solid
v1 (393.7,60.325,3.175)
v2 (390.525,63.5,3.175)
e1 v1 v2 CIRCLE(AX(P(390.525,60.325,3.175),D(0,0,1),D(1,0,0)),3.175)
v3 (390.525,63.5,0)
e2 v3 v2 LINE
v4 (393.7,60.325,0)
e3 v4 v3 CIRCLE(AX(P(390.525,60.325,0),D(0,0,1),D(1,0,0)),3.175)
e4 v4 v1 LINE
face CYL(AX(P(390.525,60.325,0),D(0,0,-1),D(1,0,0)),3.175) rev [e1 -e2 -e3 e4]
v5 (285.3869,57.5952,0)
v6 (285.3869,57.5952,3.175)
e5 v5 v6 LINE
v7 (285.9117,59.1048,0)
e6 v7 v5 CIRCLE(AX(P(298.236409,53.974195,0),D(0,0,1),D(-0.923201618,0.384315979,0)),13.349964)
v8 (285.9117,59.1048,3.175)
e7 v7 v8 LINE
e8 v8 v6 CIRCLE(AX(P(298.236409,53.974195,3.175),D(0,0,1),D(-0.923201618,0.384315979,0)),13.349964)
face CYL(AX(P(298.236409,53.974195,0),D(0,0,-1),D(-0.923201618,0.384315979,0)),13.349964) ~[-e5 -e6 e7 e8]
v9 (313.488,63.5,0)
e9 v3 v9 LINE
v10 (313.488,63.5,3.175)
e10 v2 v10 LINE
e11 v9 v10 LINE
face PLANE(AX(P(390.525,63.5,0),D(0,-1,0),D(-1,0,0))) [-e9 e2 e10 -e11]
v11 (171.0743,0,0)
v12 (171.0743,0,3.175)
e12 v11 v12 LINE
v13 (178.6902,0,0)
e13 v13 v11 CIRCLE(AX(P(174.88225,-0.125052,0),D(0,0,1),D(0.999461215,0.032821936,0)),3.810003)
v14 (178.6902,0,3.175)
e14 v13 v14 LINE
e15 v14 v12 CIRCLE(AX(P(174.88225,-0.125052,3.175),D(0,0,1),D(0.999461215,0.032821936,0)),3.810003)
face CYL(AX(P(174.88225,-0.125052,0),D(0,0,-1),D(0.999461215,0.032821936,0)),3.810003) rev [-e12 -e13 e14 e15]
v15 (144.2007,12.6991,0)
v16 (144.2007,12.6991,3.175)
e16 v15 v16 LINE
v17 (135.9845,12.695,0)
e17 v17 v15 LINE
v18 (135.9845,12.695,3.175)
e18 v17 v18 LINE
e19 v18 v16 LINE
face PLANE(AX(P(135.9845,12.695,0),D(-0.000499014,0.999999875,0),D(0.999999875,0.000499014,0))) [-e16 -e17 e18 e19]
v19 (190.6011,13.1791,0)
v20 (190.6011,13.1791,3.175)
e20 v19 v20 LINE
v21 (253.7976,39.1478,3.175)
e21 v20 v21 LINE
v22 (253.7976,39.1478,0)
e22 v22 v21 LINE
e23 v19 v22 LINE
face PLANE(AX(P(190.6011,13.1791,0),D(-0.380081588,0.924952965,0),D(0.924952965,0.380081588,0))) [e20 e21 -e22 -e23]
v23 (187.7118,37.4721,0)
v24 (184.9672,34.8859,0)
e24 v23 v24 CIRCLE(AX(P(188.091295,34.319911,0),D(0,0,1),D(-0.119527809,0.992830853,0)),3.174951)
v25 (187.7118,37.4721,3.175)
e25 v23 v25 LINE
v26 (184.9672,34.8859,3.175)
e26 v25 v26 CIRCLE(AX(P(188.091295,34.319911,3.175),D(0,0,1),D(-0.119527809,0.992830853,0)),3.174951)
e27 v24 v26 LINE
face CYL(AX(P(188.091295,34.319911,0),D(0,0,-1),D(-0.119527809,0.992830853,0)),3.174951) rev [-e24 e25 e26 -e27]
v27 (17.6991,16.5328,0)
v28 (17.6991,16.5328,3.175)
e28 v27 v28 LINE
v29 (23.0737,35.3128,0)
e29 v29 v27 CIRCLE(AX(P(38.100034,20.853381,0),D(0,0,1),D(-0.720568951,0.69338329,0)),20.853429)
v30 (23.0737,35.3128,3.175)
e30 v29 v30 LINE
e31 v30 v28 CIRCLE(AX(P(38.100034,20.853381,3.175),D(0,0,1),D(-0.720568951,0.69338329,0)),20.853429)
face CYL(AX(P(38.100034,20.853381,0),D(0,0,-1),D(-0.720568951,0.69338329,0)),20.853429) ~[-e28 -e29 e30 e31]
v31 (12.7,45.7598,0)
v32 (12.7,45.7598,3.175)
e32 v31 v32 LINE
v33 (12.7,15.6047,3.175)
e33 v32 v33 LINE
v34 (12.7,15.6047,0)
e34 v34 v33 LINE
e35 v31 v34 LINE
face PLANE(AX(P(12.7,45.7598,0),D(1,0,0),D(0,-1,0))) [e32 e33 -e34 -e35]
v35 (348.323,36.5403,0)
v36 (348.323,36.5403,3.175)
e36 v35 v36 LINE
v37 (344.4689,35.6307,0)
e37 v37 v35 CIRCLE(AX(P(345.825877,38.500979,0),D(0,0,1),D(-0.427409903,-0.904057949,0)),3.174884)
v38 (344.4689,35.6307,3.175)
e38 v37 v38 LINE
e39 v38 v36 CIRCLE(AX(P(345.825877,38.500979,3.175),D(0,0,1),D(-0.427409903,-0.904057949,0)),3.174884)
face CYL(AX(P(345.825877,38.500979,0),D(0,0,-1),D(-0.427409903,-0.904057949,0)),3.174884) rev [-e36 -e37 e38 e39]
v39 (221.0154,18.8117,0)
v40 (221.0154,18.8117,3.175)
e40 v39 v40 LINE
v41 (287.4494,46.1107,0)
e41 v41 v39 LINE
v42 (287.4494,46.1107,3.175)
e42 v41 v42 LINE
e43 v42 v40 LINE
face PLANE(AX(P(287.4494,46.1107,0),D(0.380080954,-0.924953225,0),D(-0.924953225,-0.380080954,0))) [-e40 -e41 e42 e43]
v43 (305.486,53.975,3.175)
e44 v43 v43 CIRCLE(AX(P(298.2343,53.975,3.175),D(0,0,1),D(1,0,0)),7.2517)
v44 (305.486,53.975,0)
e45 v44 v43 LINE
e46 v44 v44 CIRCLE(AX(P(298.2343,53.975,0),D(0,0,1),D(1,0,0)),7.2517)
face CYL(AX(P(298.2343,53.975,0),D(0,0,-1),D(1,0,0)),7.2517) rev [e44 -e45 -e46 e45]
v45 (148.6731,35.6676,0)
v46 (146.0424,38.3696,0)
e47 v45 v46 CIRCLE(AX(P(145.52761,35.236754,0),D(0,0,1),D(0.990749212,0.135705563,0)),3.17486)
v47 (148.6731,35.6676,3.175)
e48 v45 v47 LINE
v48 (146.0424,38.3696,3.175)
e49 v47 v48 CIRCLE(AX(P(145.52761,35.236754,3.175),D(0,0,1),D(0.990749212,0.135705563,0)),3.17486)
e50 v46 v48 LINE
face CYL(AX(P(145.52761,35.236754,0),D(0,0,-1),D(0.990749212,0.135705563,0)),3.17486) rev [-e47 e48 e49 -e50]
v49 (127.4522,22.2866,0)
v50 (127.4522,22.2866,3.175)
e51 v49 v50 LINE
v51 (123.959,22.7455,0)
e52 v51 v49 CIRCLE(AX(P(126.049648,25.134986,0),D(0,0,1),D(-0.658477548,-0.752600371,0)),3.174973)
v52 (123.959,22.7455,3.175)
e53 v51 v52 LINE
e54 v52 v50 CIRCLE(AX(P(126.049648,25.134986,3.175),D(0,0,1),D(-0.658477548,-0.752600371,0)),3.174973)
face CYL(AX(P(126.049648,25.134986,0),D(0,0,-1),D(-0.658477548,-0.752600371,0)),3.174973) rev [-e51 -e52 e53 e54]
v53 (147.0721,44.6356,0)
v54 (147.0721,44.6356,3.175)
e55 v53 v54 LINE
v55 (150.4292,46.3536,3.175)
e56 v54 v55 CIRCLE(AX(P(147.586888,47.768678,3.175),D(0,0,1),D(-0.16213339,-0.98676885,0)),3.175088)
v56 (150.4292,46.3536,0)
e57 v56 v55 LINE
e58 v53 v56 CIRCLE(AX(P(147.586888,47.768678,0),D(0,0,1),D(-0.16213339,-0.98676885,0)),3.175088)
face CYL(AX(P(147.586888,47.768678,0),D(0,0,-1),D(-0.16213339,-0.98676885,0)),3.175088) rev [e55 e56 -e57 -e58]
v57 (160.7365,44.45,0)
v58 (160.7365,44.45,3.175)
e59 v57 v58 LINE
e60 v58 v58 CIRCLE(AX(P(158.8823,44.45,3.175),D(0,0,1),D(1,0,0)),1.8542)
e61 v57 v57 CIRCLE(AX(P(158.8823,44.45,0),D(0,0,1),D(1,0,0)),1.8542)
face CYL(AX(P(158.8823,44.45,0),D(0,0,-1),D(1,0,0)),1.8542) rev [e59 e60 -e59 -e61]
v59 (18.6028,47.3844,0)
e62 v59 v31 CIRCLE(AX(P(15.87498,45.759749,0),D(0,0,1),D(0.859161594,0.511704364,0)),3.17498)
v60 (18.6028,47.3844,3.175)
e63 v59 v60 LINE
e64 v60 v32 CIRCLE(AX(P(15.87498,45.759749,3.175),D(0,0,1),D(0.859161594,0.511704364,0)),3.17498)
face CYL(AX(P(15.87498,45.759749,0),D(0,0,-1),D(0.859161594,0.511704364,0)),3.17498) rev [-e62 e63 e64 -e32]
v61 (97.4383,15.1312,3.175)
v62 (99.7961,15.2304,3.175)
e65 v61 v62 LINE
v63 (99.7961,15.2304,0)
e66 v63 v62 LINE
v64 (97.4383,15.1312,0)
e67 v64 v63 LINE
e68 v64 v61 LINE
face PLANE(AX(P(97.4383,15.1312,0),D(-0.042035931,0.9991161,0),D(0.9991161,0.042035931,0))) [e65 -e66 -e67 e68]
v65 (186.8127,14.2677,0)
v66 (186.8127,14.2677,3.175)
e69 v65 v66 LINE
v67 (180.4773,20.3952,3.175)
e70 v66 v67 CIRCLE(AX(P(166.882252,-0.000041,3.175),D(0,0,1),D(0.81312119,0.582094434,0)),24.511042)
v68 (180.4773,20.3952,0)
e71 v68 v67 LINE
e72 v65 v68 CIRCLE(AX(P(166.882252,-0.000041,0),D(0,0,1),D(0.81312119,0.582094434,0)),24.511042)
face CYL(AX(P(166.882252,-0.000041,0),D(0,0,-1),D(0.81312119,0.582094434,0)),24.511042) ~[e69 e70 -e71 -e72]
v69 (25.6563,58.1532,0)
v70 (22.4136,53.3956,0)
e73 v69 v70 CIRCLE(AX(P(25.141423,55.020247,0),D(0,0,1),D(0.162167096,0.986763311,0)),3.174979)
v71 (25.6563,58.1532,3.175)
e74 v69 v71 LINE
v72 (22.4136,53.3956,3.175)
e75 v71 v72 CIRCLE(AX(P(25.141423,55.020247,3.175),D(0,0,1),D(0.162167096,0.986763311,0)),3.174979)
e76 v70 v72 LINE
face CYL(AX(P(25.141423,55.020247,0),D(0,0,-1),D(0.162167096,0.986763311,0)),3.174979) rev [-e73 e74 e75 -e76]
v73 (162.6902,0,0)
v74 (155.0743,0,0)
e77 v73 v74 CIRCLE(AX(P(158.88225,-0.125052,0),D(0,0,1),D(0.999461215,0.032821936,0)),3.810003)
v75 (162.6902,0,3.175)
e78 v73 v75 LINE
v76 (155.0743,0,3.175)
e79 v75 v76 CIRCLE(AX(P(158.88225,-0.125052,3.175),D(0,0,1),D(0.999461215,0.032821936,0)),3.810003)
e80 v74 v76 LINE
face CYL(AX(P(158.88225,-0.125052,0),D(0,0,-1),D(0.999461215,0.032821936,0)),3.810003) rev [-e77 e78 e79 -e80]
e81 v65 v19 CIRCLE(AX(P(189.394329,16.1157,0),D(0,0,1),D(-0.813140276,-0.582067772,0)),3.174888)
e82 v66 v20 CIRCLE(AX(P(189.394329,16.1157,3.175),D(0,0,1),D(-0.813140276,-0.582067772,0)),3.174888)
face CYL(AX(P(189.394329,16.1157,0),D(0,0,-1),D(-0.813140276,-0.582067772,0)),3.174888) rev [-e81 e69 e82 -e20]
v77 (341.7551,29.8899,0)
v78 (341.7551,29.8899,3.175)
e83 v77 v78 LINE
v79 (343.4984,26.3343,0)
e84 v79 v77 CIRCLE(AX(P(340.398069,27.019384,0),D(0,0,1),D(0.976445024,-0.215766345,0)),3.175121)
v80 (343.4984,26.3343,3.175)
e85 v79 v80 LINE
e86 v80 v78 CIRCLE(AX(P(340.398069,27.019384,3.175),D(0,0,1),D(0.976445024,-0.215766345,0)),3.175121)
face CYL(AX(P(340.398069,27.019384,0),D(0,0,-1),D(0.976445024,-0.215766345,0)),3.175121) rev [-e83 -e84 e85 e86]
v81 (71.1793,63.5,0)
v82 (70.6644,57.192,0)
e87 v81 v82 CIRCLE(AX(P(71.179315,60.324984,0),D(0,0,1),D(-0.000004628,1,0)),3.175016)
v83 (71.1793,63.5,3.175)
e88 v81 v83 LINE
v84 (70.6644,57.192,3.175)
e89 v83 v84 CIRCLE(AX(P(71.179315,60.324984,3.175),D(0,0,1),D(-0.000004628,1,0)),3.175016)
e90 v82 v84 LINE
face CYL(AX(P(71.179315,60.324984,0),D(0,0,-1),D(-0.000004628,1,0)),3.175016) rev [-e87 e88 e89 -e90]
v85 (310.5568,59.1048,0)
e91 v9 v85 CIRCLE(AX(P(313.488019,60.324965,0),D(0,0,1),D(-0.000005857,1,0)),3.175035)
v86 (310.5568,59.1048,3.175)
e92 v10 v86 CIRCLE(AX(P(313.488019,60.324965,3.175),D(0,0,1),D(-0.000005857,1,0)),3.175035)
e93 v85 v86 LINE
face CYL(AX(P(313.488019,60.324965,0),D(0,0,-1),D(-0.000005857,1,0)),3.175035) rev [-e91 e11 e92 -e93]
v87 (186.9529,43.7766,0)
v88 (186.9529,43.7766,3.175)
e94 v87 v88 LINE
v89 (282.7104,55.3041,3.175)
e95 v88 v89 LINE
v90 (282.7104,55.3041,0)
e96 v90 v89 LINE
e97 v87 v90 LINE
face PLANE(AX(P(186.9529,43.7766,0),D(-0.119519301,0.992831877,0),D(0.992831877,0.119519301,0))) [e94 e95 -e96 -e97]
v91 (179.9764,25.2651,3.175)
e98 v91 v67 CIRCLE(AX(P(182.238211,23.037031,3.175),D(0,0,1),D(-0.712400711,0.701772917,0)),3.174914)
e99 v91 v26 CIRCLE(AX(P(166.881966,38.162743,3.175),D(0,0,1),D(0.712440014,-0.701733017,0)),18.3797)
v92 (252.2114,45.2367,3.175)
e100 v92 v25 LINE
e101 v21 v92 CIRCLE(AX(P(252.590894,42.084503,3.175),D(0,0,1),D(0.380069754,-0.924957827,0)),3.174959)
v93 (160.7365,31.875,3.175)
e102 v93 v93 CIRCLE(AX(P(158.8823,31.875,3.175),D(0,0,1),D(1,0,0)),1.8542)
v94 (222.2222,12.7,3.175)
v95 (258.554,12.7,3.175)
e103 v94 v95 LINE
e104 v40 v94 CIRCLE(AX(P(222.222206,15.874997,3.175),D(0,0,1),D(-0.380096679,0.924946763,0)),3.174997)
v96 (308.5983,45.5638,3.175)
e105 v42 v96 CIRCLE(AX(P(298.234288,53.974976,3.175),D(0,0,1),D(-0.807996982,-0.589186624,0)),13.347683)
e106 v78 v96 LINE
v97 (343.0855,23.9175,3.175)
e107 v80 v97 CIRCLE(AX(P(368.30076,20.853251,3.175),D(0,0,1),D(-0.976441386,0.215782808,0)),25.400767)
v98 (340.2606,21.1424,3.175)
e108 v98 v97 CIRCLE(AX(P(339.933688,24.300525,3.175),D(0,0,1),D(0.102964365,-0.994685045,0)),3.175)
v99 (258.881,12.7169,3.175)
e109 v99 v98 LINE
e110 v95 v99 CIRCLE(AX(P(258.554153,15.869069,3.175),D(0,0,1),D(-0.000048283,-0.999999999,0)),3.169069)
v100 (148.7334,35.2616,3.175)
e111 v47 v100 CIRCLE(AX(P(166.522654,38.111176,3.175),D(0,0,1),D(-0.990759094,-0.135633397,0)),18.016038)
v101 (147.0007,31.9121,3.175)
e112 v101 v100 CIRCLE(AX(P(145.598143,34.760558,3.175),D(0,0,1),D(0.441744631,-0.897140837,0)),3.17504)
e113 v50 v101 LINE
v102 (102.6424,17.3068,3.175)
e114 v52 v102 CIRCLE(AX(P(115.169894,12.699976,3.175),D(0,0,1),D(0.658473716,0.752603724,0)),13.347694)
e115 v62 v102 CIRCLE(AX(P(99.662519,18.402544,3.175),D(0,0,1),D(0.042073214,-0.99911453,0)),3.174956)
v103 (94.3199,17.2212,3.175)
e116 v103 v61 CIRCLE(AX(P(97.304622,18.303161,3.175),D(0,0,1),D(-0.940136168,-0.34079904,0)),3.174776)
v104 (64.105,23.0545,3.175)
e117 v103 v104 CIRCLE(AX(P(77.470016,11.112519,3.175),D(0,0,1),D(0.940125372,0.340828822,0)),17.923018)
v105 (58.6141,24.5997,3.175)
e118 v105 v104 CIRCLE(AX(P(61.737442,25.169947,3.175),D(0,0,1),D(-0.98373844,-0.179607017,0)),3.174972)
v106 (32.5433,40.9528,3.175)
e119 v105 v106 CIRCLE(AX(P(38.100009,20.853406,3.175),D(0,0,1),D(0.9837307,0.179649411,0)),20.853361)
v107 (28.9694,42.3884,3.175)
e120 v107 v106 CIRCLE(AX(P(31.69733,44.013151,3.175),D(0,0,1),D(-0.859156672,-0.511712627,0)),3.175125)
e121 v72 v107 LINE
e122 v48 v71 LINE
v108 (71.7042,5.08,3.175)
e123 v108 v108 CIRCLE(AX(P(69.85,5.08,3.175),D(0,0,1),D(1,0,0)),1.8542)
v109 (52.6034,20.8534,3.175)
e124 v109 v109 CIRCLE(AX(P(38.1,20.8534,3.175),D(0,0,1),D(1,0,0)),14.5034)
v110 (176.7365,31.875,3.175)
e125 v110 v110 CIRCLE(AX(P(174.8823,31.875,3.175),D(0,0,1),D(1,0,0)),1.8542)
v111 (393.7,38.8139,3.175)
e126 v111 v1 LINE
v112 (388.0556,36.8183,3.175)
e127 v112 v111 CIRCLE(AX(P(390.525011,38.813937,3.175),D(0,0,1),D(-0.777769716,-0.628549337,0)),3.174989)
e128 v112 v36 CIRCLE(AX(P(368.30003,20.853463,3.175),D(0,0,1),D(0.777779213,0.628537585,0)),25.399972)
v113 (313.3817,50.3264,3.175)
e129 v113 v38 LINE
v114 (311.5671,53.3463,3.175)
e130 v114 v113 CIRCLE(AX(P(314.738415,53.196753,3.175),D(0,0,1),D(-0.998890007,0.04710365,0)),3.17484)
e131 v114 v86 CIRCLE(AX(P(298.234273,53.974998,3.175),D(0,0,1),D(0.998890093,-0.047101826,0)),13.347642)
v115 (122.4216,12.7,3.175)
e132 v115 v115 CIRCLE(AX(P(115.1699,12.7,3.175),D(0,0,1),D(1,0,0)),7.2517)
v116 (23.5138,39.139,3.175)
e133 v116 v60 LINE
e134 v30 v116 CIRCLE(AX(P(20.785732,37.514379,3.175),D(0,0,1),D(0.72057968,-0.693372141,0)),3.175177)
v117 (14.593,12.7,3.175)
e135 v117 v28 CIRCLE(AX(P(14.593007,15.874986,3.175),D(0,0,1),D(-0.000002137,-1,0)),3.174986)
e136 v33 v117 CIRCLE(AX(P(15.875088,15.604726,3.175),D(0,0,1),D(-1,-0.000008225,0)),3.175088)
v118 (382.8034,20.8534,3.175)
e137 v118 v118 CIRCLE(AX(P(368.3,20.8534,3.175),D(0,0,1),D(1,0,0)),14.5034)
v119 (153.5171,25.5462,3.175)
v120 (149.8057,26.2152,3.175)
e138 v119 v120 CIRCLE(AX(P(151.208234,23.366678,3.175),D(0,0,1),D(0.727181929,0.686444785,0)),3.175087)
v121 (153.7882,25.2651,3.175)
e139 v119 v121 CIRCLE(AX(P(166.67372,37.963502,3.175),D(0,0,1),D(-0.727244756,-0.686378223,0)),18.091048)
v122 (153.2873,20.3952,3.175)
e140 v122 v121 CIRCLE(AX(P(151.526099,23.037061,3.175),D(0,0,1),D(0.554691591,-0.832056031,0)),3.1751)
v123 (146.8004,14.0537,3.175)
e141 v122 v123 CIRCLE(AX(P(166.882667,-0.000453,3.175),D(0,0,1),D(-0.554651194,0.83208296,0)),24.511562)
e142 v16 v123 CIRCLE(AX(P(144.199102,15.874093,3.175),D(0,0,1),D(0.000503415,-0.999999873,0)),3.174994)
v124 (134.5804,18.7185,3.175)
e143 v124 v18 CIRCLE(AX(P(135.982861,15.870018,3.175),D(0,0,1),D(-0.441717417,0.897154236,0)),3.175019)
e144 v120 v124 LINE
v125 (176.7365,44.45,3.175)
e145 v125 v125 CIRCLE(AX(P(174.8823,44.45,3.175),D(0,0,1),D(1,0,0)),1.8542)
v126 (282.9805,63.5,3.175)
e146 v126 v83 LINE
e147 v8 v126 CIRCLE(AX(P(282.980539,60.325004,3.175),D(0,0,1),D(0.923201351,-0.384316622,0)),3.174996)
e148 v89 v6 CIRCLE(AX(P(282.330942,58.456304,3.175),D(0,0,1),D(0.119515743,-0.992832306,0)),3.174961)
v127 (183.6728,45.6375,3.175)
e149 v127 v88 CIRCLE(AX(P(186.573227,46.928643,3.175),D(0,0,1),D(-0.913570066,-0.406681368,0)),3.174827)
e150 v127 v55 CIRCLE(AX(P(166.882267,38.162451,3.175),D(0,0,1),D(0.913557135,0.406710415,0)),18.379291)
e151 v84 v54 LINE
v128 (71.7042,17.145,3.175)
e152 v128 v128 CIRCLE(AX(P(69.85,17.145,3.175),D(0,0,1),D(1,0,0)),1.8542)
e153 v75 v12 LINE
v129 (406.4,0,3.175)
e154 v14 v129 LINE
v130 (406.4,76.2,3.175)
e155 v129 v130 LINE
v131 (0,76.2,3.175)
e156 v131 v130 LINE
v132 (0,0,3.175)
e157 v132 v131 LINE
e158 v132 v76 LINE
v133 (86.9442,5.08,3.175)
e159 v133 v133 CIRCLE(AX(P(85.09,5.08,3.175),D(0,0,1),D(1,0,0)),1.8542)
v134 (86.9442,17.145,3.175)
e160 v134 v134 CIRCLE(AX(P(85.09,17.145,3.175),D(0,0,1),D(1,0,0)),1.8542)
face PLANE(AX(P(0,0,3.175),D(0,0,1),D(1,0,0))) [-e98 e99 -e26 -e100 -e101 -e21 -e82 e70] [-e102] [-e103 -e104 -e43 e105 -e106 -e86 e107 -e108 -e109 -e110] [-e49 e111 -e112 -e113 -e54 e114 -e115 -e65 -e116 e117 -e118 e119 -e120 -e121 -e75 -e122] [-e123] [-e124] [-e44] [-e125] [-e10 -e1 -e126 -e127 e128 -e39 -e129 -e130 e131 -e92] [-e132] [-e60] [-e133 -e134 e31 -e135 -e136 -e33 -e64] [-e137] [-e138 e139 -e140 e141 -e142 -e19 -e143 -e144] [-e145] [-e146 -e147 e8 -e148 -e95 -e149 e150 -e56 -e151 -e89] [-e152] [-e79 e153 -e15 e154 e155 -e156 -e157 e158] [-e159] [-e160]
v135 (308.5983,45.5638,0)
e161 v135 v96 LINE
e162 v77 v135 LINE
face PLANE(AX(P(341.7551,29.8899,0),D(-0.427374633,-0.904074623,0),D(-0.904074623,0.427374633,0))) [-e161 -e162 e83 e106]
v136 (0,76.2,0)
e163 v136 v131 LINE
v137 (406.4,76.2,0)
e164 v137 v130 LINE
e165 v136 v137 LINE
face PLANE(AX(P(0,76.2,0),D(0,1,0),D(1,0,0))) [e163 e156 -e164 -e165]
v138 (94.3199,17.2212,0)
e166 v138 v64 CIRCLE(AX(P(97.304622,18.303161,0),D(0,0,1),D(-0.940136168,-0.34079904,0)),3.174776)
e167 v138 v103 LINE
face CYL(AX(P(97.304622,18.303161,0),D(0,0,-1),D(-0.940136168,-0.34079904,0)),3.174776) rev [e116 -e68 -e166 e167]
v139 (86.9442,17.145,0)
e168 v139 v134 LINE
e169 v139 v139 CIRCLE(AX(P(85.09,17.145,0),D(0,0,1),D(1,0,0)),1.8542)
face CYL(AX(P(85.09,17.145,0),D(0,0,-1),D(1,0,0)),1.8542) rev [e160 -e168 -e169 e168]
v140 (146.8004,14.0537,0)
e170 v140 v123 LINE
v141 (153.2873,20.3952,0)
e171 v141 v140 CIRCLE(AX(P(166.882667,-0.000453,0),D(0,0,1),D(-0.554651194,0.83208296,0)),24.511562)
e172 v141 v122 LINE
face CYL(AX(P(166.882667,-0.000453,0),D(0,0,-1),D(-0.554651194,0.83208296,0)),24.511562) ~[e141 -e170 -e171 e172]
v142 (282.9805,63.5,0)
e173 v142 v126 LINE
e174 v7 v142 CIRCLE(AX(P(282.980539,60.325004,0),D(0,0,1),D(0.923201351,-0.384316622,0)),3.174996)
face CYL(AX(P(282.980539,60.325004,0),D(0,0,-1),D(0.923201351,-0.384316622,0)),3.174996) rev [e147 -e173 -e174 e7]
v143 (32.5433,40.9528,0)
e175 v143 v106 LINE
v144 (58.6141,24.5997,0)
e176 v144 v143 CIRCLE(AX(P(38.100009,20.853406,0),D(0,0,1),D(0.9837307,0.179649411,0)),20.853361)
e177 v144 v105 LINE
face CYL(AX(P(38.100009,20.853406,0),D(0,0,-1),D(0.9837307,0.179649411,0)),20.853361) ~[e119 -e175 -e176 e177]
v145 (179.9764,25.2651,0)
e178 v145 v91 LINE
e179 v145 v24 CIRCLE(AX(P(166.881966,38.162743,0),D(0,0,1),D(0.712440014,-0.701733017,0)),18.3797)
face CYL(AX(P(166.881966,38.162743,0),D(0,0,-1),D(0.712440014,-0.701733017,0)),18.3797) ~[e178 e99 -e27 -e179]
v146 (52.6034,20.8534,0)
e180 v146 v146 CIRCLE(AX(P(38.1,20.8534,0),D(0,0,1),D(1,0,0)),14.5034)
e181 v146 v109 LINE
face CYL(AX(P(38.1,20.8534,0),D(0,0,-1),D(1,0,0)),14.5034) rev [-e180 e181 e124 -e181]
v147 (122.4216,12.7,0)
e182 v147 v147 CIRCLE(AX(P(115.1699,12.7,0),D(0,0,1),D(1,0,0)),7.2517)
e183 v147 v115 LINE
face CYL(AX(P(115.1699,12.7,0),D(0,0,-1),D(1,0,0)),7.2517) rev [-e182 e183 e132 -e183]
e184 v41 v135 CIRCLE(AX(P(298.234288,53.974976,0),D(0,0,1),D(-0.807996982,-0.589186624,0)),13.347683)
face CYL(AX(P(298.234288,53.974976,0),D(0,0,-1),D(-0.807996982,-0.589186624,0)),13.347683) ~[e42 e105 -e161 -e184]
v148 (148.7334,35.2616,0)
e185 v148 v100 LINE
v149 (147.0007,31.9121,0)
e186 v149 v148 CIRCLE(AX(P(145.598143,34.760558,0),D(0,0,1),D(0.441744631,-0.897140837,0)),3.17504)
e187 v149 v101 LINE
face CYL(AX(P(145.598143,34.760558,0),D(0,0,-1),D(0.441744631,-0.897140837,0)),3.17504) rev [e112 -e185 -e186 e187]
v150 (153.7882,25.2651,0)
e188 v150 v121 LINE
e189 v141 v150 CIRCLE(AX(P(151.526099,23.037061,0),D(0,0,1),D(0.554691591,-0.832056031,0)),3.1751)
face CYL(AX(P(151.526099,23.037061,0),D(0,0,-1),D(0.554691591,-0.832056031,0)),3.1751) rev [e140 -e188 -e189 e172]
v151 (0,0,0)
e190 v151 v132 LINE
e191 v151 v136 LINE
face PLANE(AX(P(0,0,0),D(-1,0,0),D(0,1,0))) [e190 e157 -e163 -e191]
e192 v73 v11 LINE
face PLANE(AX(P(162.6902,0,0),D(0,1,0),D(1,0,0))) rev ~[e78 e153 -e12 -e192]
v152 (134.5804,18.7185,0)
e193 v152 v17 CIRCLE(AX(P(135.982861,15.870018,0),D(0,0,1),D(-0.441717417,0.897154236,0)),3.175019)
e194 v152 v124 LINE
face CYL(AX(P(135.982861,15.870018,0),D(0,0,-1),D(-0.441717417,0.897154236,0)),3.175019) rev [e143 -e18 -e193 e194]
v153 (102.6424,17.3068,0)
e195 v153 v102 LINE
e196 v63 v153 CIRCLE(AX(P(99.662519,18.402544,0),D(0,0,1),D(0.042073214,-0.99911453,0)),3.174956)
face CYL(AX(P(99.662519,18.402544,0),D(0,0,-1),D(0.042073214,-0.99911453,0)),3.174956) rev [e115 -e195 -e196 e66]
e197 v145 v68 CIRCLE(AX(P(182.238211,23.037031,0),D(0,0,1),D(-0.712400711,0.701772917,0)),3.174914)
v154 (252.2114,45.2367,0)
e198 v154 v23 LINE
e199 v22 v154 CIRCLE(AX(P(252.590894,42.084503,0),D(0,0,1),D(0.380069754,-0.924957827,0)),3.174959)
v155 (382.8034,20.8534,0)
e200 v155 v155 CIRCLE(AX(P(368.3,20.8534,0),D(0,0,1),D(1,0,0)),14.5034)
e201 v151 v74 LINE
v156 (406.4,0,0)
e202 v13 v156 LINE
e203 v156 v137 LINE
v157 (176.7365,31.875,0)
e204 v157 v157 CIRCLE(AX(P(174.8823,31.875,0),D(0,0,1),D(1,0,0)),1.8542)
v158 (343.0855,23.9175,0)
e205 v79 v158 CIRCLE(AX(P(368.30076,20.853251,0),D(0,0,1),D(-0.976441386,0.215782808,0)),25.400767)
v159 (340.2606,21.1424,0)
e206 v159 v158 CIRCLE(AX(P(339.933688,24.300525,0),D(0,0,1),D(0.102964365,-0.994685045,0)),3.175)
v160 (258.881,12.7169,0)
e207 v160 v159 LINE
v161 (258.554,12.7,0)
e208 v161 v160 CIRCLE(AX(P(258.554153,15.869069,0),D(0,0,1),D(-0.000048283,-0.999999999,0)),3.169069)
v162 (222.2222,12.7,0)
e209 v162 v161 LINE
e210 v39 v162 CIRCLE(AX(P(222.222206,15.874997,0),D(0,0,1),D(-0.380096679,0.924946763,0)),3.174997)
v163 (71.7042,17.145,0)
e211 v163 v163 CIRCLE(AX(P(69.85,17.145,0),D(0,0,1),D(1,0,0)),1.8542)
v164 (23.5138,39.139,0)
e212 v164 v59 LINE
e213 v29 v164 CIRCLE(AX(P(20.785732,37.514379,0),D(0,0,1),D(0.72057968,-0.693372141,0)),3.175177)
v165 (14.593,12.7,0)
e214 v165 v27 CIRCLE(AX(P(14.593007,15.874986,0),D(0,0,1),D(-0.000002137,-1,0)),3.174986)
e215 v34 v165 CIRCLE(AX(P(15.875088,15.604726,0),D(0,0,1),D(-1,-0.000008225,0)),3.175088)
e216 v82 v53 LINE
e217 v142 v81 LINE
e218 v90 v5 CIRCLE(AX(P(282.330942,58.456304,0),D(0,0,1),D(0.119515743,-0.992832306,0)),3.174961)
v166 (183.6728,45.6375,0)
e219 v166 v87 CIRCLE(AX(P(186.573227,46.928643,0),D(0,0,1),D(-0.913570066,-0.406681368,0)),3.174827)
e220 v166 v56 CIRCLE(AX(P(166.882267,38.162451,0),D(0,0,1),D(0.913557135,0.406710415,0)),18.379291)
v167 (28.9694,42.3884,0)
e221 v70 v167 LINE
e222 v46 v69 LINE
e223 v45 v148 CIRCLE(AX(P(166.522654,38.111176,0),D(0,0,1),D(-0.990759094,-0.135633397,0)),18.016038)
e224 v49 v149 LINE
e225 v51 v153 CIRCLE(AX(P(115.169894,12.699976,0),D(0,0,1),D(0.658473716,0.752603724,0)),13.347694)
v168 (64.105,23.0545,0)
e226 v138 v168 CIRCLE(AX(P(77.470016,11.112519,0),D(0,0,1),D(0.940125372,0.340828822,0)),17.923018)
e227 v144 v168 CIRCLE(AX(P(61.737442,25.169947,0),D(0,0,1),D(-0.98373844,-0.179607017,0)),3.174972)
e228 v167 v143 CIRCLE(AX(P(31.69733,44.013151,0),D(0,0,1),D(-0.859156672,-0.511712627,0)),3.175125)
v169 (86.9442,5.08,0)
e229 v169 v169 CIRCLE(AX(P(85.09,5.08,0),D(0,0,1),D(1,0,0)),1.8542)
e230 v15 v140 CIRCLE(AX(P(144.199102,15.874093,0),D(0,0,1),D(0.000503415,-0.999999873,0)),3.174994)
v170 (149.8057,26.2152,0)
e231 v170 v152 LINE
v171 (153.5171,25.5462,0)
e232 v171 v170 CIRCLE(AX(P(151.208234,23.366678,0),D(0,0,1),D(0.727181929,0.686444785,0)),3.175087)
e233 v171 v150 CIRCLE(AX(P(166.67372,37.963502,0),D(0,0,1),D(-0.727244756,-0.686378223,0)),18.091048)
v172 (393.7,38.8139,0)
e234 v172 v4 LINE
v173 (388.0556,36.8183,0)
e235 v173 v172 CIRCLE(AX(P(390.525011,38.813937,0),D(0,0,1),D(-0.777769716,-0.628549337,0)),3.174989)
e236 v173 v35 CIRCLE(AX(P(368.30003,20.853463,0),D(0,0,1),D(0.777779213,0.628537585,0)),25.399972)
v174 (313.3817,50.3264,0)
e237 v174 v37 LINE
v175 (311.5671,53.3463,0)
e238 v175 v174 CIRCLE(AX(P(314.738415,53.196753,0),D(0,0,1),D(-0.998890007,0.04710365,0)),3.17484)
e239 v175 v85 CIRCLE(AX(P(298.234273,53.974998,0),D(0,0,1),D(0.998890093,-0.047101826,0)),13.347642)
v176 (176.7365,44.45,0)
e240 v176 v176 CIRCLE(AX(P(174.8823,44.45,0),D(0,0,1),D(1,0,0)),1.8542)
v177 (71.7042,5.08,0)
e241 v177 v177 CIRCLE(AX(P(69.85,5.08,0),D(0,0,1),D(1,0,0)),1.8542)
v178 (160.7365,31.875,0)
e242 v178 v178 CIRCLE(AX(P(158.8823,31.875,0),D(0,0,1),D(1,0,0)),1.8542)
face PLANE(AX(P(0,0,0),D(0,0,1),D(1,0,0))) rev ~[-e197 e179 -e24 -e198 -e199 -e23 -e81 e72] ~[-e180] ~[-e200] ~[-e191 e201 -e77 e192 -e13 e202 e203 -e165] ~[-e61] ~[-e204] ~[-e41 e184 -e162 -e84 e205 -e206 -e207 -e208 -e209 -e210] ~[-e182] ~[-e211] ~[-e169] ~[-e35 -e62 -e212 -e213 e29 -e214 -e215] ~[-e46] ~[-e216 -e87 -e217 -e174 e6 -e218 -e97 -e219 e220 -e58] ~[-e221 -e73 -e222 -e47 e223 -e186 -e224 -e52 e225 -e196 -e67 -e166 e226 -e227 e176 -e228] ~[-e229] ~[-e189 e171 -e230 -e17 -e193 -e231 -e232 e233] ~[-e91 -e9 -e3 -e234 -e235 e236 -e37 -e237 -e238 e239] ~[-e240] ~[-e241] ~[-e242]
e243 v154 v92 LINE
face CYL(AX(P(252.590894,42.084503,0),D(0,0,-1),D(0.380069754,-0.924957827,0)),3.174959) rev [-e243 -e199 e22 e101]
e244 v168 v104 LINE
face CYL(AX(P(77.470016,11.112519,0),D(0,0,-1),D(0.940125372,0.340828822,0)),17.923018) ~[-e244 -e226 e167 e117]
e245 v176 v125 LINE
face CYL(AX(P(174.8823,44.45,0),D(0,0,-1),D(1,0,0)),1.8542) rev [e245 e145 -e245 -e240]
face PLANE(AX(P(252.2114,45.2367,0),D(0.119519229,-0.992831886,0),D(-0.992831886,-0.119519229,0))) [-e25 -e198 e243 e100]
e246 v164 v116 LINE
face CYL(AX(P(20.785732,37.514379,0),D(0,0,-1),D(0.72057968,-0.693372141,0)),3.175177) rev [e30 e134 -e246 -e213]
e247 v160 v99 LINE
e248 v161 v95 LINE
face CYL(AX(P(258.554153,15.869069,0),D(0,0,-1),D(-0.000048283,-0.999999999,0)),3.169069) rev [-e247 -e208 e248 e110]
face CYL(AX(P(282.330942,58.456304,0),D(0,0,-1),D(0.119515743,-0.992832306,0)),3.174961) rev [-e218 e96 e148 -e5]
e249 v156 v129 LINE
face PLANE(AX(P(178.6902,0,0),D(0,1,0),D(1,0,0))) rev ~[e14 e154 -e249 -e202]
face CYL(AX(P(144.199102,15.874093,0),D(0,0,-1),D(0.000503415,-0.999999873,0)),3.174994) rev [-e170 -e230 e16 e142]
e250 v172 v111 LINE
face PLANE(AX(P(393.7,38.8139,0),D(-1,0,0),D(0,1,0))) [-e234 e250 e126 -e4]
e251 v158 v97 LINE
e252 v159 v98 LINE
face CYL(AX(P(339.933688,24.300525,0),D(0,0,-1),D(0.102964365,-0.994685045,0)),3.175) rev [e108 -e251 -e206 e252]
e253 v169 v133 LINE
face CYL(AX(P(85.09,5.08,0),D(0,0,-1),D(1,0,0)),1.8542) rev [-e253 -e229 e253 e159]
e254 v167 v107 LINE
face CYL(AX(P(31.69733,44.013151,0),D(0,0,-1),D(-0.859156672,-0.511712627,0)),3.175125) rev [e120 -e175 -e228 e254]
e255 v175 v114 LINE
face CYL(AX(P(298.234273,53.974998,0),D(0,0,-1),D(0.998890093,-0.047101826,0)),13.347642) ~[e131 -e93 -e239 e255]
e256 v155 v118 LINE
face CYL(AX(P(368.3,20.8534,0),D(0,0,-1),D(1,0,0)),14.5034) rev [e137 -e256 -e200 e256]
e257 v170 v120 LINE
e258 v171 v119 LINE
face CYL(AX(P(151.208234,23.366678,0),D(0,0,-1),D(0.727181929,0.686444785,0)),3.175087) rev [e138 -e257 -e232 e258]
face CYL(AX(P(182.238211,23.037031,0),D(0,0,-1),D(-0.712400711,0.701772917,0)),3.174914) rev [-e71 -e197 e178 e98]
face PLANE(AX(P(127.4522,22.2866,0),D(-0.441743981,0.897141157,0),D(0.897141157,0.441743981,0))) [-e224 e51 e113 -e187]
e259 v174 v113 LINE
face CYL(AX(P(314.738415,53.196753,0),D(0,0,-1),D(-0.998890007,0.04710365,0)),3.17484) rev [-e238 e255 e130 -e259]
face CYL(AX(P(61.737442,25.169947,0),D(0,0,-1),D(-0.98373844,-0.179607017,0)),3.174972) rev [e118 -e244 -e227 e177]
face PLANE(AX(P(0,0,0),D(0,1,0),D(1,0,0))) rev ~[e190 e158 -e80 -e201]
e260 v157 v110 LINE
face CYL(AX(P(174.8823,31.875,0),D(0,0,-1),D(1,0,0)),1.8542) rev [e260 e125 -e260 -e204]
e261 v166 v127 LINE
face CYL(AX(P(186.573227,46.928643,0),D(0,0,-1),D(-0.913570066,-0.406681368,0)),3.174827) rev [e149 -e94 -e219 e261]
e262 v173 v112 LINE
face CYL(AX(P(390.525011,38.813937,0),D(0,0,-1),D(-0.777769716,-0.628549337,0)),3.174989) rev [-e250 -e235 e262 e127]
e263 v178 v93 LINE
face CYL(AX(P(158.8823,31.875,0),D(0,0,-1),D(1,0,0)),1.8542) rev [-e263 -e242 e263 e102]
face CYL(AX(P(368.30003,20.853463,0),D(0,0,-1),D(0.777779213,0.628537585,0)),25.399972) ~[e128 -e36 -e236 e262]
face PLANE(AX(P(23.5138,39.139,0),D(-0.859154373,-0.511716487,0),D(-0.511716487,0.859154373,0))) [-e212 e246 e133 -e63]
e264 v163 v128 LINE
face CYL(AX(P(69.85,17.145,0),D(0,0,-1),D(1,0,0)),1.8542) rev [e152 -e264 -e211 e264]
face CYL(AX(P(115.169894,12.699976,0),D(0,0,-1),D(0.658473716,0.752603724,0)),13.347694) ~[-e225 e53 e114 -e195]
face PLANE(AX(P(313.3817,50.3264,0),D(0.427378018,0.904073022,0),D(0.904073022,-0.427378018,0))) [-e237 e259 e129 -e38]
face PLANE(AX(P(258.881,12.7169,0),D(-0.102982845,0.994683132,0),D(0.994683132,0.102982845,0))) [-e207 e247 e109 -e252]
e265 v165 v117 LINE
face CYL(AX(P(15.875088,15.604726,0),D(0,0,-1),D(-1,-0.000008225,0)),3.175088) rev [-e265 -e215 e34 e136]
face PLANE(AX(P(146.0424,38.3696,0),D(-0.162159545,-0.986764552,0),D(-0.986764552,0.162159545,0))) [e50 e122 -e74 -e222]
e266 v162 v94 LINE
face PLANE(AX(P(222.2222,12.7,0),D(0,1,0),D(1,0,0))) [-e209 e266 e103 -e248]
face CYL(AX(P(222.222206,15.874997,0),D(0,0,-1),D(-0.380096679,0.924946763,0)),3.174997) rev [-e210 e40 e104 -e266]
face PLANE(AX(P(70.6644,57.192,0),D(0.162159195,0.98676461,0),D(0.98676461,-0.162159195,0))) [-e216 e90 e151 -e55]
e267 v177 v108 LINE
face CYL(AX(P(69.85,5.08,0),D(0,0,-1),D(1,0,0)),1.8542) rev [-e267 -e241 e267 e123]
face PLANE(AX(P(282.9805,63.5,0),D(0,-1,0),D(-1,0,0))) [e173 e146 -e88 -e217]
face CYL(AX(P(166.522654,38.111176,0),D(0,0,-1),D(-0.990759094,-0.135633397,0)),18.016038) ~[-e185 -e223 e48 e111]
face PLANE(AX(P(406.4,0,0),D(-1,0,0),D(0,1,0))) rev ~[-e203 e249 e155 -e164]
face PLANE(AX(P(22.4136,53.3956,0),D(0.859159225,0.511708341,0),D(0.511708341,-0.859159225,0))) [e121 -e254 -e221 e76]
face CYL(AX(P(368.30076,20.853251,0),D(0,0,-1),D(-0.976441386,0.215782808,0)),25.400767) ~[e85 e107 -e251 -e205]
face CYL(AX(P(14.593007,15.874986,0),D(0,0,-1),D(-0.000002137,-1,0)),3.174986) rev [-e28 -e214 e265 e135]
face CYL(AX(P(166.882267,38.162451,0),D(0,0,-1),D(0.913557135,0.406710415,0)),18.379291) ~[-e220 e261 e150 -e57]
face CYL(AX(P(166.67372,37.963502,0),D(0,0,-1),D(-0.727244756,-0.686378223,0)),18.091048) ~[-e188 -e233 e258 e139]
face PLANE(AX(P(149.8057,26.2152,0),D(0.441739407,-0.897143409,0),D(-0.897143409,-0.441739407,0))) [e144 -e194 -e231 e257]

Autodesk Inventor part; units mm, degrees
ref_plane "YZ Plane" through (0, 0, 0) normal (1, 0, 0) x (0, 1, 0)
ref_plane "XZ Plane" through (0, 0, 0) normal (0, 1, 0) x (-1, 0, 0)
ref_plane "XY Plane" through (0, 0, 0) normal (0, 0, 1) x (1, 0, 0)
sketch "Sketch2" plane through (0, 0, 0) normal (0, 0, 1) x (1, 0, 0)
  arc A0 (94.3199, 17.2212) -> (64.105, 23.0545) centre (77.47, 11.1125) ccw
  arc A1 (58.6141, 24.5997) -> (64.105, 23.0545) centre (61.7375, 25.17) ccw
  arc A2 (58.6141, 24.5997) -> (32.5433, 40.9528) centre (38.1, 20.8534) ccw
  arc A3 (28.9694, 42.3884) -> (32.5433, 40.9528) centre (31.6972, 44.013) ccw
  line L0 (22.4136, 53.3956) -> (28.9694, 42.3884)
  arc A4 (25.6563, 58.1532) -> (22.4136, 53.3956) centre (25.1414, 55.0203) ccw
  line L1 (146.0424, 38.3696) -> (25.6563, 58.1532)
  arc A5 (148.6731, 35.6676) -> (146.0424, 38.3696) centre (145.5275, 35.2367) ccw
  arc A6 (148.6731, 35.6676) -> (148.7334, 35.2616) centre (166.8823, 38.1625) ccw
  arc A7 (147.0007, 31.9121) -> (148.7334, 35.2616) centre (145.5982, 34.7605) ccw
  line L2 (127.4522, 22.2866) -> (147.0007, 31.9121)
  arc A8 (123.959, 22.7455) -> (127.4522, 22.2866) centre (126.0497, 25.1351) ccw
  arc A9 (123.959, 22.7455) -> (102.6424, 17.3068) centre (115.1699, 12.7) ccw
  arc A10 (99.7961, 15.2304) -> (102.6424, 17.3068) centre (99.6625, 18.4026) ccw
  line L3 (97.4383, 15.1312) -> (99.7961, 15.2304)
  arc A11 (94.3199, 17.2212) -> (97.4383, 15.1312) centre (97.3048, 18.3033) ccw
  line L4 (282.9805, 63.5) -> (71.1793, 63.5)
  arc A12 (285.9117, 59.1048) -> (282.9805, 63.5) centre (282.9805, 60.325) ccw
  arc A13 (285.9117, 59.1048) -> (285.3869, 57.5952) centre (298.2343, 53.975) ccw
  arc A14 (282.7104, 55.3041) -> (285.3869, 57.5952) centre (282.3309, 58.4564) ccw
  line L5 (186.9529, 43.7766) -> (282.7104, 55.3041)
  arc A15 (183.6728, 45.6375) -> (186.9529, 43.7766) centre (186.5734, 46.9288) ccw
  arc A16 (183.6728, 45.6375) -> (150.4292, 46.3536) centre (166.8823, 38.1625) ccw
  arc A17 (147.0721, 44.6356) -> (150.4292, 46.3536) centre (147.5869, 47.7686) ccw
  line L6 (70.6644, 57.192) -> (147.0721, 44.6356)
  arc A18 (71.1793, 63.5) -> (70.6644, 57.192) centre (71.1793, 60.325) ccw
  arc A19 (23.0737, 35.3128) -> (17.6991, 16.5328) centre (38.1, 20.8534) ccw
  arc A20 (14.593, 12.7) -> (17.6991, 16.5328) centre (14.593, 15.875) ccw
  arc A21 (12.7, 15.6047) -> (14.593, 12.7) centre (15.875, 15.6047) ccw
  line L7 (12.7, 45.7598) -> (12.7, 15.6047)
  arc A22 (18.6028, 47.3844) -> (12.7, 45.7598) centre (15.875, 45.7598) ccw
  line L8 (23.5138, 39.139) -> (18.6028, 47.3844)
  arc A23 (23.0737, 35.3128) -> (23.5138, 39.139) centre (20.7859, 37.5143) ccw
  arc A24 (186.8127, 14.2677) -> (180.4773, 20.3952) centre (166.8823, 0) ccw
  arc A25 (179.9764, 25.2651) -> (180.4773, 20.3952) centre (182.2383, 23.037) ccw
  arc A26 (179.9764, 25.2651) -> (184.9672, 34.8859) centre (166.8823, 38.1625) ccw
  arc A27 (187.7118, 37.4721) -> (184.9672, 34.8859) centre (188.0913, 34.3199) ccw
  line L9 (252.2114, 45.2367) -> (187.7118, 37.4721)
  arc A28 (253.7976, 39.1478) -> (252.2114, 45.2367) centre (252.5909, 42.0845) ccw
  line L10 (190.6011, 13.1791) -> (253.7976, 39.1478)
  arc A29 (186.8127, 14.2677) -> (190.6011, 13.1791) centre (189.3944, 16.1158) ccw
  line L11 (287.4494, 46.1107) -> (221.0154, 18.8117)
  arc A30 (287.4494, 46.1107) -> (308.5983, 45.5638) centre (298.2343, 53.975) ccw
  line L12 (341.7551, 29.8899) -> (308.5983, 45.5638)
  arc A31 (343.4984, 26.3343) -> (341.7551, 29.8899) centre (340.3982, 27.0194) ccw
  arc A32 (343.4984, 26.3343) -> (343.0855, 23.9175) centre (368.3, 20.8534) ccw
  arc A33 (340.2606, 21.1424) -> (343.0855, 23.9175) centre (339.9337, 24.3005) ccw
  line L13 (258.881, 12.7169) -> (340.2606, 21.1424)
  arc A34 (258.554, 12.7) -> (258.881, 12.7169) centre (258.554, 15.875) ccw
  line L14 (222.2222, 12.7) -> (258.554, 12.7)
  arc A35 (221.0154, 18.8117) -> (222.2222, 12.7) centre (222.2222, 15.875) ccw
  arc A36 (134.5804, 18.7185) -> (135.9845, 12.695) centre (135.9829, 15.87) ccw
  line L15 (149.8057, 26.2152) -> (134.5804, 18.7185)
  arc A37 (153.5171, 25.5462) -> (149.8057, 26.2152) centre (151.2083, 23.3668) ccw
  arc A38 (153.5171, 25.5462) -> (153.7882, 25.2651) centre (166.8823, 38.1625) ccw
  arc A39 (153.2873, 20.3952) -> (153.7882, 25.2651) centre (151.5262, 23.037) ccw
  arc A40 (153.2873, 20.3952) -> (146.8004, 14.0537) centre (166.8823, 0) ccw
  arc A41 (144.2007, 12.6991) -> (146.8004, 14.0537) centre (144.1991, 15.8741) ccw
  line L16 (135.9845, 12.695) -> (144.2007, 12.6991)
  arc A42 (311.5671, 53.3463) -> (310.5568, 59.1048) centre (298.2343, 53.975) ccw
  arc A43 (313.488, 63.5) -> (310.5568, 59.1048) centre (313.488, 60.325) ccw
  line L17 (390.525, 63.5) -> (313.488, 63.5)
  arc A44 (393.7, 60.325) -> (390.525, 63.5) centre (390.525, 60.325) ccw
  line L18 (393.7, 38.8139) -> (393.7, 60.325)
  arc A45 (388.0556, 36.8183) -> (393.7, 38.8139) centre (390.525, 38.8139) ccw
  arc A46 (388.0556, 36.8183) -> (348.323, 36.5403) centre (368.3, 20.8534) ccw
  arc A47 (344.4689, 35.6307) -> (348.323, 36.5403) centre (345.8259, 38.5012) ccw
  line L19 (313.3817, 50.3264) -> (344.4689, 35.6307)
  arc A48 (311.5671, 53.3463) -> (313.3817, 50.3264) centre (314.7386, 53.1968) ccw
  arc A49 (162.6902, 0) -> (155.0743, 0) centre (158.8823, -0.125) ccw
  line L20 (162.6902, 0) -> (171.0743, 0)
  arc A50 (178.6902, 0) -> (171.0743, 0) centre (174.8823, -0.125) ccw
  line L21 (178.6902, 0) -> (406.4, 0)
  line L22 (406.4, 0) -> (406.4, 76.2)
  line L23 (0, 76.2) -> (406.4, 76.2)
  line L24 (0, 0) -> (0, 76.2)
  line L25 (0, 0) -> (155.0743, 0)
  circle A51 centre (69.85, 5.08) radius 1.8542
  circle A52 centre (174.8823, 31.875) radius 1.8542
  circle A53 centre (174.8823, 44.45) radius 1.8542
  circle A54 centre (85.09, 5.08) radius 1.8542
  circle A55 centre (69.85, 17.145) radius 1.8542
  circle A56 centre (158.8823, 31.875) radius 1.8542
  circle A57 centre (158.8823, 44.45) radius 1.8542
  circle A58 centre (85.09, 17.145) radius 1.8542
  circle A59 centre (298.2343, 53.975) radius 7.2517
  circle A60 centre (115.1699, 12.7) radius 7.2517
  circle A61 centre (38.1, 20.8534) radius 14.5034
  circle A62 centre (368.3, 20.8534) radius 14.5034
  point P0 (0, 30.4367)
  dimension "d3" = 14.5034
  dimension "d4" = 14.5034
extrude "Extrusion1" add sketch "Sketch2" along normal blind 3.175
equation "\"d4\" = d3"
properties part number "Left right side"
